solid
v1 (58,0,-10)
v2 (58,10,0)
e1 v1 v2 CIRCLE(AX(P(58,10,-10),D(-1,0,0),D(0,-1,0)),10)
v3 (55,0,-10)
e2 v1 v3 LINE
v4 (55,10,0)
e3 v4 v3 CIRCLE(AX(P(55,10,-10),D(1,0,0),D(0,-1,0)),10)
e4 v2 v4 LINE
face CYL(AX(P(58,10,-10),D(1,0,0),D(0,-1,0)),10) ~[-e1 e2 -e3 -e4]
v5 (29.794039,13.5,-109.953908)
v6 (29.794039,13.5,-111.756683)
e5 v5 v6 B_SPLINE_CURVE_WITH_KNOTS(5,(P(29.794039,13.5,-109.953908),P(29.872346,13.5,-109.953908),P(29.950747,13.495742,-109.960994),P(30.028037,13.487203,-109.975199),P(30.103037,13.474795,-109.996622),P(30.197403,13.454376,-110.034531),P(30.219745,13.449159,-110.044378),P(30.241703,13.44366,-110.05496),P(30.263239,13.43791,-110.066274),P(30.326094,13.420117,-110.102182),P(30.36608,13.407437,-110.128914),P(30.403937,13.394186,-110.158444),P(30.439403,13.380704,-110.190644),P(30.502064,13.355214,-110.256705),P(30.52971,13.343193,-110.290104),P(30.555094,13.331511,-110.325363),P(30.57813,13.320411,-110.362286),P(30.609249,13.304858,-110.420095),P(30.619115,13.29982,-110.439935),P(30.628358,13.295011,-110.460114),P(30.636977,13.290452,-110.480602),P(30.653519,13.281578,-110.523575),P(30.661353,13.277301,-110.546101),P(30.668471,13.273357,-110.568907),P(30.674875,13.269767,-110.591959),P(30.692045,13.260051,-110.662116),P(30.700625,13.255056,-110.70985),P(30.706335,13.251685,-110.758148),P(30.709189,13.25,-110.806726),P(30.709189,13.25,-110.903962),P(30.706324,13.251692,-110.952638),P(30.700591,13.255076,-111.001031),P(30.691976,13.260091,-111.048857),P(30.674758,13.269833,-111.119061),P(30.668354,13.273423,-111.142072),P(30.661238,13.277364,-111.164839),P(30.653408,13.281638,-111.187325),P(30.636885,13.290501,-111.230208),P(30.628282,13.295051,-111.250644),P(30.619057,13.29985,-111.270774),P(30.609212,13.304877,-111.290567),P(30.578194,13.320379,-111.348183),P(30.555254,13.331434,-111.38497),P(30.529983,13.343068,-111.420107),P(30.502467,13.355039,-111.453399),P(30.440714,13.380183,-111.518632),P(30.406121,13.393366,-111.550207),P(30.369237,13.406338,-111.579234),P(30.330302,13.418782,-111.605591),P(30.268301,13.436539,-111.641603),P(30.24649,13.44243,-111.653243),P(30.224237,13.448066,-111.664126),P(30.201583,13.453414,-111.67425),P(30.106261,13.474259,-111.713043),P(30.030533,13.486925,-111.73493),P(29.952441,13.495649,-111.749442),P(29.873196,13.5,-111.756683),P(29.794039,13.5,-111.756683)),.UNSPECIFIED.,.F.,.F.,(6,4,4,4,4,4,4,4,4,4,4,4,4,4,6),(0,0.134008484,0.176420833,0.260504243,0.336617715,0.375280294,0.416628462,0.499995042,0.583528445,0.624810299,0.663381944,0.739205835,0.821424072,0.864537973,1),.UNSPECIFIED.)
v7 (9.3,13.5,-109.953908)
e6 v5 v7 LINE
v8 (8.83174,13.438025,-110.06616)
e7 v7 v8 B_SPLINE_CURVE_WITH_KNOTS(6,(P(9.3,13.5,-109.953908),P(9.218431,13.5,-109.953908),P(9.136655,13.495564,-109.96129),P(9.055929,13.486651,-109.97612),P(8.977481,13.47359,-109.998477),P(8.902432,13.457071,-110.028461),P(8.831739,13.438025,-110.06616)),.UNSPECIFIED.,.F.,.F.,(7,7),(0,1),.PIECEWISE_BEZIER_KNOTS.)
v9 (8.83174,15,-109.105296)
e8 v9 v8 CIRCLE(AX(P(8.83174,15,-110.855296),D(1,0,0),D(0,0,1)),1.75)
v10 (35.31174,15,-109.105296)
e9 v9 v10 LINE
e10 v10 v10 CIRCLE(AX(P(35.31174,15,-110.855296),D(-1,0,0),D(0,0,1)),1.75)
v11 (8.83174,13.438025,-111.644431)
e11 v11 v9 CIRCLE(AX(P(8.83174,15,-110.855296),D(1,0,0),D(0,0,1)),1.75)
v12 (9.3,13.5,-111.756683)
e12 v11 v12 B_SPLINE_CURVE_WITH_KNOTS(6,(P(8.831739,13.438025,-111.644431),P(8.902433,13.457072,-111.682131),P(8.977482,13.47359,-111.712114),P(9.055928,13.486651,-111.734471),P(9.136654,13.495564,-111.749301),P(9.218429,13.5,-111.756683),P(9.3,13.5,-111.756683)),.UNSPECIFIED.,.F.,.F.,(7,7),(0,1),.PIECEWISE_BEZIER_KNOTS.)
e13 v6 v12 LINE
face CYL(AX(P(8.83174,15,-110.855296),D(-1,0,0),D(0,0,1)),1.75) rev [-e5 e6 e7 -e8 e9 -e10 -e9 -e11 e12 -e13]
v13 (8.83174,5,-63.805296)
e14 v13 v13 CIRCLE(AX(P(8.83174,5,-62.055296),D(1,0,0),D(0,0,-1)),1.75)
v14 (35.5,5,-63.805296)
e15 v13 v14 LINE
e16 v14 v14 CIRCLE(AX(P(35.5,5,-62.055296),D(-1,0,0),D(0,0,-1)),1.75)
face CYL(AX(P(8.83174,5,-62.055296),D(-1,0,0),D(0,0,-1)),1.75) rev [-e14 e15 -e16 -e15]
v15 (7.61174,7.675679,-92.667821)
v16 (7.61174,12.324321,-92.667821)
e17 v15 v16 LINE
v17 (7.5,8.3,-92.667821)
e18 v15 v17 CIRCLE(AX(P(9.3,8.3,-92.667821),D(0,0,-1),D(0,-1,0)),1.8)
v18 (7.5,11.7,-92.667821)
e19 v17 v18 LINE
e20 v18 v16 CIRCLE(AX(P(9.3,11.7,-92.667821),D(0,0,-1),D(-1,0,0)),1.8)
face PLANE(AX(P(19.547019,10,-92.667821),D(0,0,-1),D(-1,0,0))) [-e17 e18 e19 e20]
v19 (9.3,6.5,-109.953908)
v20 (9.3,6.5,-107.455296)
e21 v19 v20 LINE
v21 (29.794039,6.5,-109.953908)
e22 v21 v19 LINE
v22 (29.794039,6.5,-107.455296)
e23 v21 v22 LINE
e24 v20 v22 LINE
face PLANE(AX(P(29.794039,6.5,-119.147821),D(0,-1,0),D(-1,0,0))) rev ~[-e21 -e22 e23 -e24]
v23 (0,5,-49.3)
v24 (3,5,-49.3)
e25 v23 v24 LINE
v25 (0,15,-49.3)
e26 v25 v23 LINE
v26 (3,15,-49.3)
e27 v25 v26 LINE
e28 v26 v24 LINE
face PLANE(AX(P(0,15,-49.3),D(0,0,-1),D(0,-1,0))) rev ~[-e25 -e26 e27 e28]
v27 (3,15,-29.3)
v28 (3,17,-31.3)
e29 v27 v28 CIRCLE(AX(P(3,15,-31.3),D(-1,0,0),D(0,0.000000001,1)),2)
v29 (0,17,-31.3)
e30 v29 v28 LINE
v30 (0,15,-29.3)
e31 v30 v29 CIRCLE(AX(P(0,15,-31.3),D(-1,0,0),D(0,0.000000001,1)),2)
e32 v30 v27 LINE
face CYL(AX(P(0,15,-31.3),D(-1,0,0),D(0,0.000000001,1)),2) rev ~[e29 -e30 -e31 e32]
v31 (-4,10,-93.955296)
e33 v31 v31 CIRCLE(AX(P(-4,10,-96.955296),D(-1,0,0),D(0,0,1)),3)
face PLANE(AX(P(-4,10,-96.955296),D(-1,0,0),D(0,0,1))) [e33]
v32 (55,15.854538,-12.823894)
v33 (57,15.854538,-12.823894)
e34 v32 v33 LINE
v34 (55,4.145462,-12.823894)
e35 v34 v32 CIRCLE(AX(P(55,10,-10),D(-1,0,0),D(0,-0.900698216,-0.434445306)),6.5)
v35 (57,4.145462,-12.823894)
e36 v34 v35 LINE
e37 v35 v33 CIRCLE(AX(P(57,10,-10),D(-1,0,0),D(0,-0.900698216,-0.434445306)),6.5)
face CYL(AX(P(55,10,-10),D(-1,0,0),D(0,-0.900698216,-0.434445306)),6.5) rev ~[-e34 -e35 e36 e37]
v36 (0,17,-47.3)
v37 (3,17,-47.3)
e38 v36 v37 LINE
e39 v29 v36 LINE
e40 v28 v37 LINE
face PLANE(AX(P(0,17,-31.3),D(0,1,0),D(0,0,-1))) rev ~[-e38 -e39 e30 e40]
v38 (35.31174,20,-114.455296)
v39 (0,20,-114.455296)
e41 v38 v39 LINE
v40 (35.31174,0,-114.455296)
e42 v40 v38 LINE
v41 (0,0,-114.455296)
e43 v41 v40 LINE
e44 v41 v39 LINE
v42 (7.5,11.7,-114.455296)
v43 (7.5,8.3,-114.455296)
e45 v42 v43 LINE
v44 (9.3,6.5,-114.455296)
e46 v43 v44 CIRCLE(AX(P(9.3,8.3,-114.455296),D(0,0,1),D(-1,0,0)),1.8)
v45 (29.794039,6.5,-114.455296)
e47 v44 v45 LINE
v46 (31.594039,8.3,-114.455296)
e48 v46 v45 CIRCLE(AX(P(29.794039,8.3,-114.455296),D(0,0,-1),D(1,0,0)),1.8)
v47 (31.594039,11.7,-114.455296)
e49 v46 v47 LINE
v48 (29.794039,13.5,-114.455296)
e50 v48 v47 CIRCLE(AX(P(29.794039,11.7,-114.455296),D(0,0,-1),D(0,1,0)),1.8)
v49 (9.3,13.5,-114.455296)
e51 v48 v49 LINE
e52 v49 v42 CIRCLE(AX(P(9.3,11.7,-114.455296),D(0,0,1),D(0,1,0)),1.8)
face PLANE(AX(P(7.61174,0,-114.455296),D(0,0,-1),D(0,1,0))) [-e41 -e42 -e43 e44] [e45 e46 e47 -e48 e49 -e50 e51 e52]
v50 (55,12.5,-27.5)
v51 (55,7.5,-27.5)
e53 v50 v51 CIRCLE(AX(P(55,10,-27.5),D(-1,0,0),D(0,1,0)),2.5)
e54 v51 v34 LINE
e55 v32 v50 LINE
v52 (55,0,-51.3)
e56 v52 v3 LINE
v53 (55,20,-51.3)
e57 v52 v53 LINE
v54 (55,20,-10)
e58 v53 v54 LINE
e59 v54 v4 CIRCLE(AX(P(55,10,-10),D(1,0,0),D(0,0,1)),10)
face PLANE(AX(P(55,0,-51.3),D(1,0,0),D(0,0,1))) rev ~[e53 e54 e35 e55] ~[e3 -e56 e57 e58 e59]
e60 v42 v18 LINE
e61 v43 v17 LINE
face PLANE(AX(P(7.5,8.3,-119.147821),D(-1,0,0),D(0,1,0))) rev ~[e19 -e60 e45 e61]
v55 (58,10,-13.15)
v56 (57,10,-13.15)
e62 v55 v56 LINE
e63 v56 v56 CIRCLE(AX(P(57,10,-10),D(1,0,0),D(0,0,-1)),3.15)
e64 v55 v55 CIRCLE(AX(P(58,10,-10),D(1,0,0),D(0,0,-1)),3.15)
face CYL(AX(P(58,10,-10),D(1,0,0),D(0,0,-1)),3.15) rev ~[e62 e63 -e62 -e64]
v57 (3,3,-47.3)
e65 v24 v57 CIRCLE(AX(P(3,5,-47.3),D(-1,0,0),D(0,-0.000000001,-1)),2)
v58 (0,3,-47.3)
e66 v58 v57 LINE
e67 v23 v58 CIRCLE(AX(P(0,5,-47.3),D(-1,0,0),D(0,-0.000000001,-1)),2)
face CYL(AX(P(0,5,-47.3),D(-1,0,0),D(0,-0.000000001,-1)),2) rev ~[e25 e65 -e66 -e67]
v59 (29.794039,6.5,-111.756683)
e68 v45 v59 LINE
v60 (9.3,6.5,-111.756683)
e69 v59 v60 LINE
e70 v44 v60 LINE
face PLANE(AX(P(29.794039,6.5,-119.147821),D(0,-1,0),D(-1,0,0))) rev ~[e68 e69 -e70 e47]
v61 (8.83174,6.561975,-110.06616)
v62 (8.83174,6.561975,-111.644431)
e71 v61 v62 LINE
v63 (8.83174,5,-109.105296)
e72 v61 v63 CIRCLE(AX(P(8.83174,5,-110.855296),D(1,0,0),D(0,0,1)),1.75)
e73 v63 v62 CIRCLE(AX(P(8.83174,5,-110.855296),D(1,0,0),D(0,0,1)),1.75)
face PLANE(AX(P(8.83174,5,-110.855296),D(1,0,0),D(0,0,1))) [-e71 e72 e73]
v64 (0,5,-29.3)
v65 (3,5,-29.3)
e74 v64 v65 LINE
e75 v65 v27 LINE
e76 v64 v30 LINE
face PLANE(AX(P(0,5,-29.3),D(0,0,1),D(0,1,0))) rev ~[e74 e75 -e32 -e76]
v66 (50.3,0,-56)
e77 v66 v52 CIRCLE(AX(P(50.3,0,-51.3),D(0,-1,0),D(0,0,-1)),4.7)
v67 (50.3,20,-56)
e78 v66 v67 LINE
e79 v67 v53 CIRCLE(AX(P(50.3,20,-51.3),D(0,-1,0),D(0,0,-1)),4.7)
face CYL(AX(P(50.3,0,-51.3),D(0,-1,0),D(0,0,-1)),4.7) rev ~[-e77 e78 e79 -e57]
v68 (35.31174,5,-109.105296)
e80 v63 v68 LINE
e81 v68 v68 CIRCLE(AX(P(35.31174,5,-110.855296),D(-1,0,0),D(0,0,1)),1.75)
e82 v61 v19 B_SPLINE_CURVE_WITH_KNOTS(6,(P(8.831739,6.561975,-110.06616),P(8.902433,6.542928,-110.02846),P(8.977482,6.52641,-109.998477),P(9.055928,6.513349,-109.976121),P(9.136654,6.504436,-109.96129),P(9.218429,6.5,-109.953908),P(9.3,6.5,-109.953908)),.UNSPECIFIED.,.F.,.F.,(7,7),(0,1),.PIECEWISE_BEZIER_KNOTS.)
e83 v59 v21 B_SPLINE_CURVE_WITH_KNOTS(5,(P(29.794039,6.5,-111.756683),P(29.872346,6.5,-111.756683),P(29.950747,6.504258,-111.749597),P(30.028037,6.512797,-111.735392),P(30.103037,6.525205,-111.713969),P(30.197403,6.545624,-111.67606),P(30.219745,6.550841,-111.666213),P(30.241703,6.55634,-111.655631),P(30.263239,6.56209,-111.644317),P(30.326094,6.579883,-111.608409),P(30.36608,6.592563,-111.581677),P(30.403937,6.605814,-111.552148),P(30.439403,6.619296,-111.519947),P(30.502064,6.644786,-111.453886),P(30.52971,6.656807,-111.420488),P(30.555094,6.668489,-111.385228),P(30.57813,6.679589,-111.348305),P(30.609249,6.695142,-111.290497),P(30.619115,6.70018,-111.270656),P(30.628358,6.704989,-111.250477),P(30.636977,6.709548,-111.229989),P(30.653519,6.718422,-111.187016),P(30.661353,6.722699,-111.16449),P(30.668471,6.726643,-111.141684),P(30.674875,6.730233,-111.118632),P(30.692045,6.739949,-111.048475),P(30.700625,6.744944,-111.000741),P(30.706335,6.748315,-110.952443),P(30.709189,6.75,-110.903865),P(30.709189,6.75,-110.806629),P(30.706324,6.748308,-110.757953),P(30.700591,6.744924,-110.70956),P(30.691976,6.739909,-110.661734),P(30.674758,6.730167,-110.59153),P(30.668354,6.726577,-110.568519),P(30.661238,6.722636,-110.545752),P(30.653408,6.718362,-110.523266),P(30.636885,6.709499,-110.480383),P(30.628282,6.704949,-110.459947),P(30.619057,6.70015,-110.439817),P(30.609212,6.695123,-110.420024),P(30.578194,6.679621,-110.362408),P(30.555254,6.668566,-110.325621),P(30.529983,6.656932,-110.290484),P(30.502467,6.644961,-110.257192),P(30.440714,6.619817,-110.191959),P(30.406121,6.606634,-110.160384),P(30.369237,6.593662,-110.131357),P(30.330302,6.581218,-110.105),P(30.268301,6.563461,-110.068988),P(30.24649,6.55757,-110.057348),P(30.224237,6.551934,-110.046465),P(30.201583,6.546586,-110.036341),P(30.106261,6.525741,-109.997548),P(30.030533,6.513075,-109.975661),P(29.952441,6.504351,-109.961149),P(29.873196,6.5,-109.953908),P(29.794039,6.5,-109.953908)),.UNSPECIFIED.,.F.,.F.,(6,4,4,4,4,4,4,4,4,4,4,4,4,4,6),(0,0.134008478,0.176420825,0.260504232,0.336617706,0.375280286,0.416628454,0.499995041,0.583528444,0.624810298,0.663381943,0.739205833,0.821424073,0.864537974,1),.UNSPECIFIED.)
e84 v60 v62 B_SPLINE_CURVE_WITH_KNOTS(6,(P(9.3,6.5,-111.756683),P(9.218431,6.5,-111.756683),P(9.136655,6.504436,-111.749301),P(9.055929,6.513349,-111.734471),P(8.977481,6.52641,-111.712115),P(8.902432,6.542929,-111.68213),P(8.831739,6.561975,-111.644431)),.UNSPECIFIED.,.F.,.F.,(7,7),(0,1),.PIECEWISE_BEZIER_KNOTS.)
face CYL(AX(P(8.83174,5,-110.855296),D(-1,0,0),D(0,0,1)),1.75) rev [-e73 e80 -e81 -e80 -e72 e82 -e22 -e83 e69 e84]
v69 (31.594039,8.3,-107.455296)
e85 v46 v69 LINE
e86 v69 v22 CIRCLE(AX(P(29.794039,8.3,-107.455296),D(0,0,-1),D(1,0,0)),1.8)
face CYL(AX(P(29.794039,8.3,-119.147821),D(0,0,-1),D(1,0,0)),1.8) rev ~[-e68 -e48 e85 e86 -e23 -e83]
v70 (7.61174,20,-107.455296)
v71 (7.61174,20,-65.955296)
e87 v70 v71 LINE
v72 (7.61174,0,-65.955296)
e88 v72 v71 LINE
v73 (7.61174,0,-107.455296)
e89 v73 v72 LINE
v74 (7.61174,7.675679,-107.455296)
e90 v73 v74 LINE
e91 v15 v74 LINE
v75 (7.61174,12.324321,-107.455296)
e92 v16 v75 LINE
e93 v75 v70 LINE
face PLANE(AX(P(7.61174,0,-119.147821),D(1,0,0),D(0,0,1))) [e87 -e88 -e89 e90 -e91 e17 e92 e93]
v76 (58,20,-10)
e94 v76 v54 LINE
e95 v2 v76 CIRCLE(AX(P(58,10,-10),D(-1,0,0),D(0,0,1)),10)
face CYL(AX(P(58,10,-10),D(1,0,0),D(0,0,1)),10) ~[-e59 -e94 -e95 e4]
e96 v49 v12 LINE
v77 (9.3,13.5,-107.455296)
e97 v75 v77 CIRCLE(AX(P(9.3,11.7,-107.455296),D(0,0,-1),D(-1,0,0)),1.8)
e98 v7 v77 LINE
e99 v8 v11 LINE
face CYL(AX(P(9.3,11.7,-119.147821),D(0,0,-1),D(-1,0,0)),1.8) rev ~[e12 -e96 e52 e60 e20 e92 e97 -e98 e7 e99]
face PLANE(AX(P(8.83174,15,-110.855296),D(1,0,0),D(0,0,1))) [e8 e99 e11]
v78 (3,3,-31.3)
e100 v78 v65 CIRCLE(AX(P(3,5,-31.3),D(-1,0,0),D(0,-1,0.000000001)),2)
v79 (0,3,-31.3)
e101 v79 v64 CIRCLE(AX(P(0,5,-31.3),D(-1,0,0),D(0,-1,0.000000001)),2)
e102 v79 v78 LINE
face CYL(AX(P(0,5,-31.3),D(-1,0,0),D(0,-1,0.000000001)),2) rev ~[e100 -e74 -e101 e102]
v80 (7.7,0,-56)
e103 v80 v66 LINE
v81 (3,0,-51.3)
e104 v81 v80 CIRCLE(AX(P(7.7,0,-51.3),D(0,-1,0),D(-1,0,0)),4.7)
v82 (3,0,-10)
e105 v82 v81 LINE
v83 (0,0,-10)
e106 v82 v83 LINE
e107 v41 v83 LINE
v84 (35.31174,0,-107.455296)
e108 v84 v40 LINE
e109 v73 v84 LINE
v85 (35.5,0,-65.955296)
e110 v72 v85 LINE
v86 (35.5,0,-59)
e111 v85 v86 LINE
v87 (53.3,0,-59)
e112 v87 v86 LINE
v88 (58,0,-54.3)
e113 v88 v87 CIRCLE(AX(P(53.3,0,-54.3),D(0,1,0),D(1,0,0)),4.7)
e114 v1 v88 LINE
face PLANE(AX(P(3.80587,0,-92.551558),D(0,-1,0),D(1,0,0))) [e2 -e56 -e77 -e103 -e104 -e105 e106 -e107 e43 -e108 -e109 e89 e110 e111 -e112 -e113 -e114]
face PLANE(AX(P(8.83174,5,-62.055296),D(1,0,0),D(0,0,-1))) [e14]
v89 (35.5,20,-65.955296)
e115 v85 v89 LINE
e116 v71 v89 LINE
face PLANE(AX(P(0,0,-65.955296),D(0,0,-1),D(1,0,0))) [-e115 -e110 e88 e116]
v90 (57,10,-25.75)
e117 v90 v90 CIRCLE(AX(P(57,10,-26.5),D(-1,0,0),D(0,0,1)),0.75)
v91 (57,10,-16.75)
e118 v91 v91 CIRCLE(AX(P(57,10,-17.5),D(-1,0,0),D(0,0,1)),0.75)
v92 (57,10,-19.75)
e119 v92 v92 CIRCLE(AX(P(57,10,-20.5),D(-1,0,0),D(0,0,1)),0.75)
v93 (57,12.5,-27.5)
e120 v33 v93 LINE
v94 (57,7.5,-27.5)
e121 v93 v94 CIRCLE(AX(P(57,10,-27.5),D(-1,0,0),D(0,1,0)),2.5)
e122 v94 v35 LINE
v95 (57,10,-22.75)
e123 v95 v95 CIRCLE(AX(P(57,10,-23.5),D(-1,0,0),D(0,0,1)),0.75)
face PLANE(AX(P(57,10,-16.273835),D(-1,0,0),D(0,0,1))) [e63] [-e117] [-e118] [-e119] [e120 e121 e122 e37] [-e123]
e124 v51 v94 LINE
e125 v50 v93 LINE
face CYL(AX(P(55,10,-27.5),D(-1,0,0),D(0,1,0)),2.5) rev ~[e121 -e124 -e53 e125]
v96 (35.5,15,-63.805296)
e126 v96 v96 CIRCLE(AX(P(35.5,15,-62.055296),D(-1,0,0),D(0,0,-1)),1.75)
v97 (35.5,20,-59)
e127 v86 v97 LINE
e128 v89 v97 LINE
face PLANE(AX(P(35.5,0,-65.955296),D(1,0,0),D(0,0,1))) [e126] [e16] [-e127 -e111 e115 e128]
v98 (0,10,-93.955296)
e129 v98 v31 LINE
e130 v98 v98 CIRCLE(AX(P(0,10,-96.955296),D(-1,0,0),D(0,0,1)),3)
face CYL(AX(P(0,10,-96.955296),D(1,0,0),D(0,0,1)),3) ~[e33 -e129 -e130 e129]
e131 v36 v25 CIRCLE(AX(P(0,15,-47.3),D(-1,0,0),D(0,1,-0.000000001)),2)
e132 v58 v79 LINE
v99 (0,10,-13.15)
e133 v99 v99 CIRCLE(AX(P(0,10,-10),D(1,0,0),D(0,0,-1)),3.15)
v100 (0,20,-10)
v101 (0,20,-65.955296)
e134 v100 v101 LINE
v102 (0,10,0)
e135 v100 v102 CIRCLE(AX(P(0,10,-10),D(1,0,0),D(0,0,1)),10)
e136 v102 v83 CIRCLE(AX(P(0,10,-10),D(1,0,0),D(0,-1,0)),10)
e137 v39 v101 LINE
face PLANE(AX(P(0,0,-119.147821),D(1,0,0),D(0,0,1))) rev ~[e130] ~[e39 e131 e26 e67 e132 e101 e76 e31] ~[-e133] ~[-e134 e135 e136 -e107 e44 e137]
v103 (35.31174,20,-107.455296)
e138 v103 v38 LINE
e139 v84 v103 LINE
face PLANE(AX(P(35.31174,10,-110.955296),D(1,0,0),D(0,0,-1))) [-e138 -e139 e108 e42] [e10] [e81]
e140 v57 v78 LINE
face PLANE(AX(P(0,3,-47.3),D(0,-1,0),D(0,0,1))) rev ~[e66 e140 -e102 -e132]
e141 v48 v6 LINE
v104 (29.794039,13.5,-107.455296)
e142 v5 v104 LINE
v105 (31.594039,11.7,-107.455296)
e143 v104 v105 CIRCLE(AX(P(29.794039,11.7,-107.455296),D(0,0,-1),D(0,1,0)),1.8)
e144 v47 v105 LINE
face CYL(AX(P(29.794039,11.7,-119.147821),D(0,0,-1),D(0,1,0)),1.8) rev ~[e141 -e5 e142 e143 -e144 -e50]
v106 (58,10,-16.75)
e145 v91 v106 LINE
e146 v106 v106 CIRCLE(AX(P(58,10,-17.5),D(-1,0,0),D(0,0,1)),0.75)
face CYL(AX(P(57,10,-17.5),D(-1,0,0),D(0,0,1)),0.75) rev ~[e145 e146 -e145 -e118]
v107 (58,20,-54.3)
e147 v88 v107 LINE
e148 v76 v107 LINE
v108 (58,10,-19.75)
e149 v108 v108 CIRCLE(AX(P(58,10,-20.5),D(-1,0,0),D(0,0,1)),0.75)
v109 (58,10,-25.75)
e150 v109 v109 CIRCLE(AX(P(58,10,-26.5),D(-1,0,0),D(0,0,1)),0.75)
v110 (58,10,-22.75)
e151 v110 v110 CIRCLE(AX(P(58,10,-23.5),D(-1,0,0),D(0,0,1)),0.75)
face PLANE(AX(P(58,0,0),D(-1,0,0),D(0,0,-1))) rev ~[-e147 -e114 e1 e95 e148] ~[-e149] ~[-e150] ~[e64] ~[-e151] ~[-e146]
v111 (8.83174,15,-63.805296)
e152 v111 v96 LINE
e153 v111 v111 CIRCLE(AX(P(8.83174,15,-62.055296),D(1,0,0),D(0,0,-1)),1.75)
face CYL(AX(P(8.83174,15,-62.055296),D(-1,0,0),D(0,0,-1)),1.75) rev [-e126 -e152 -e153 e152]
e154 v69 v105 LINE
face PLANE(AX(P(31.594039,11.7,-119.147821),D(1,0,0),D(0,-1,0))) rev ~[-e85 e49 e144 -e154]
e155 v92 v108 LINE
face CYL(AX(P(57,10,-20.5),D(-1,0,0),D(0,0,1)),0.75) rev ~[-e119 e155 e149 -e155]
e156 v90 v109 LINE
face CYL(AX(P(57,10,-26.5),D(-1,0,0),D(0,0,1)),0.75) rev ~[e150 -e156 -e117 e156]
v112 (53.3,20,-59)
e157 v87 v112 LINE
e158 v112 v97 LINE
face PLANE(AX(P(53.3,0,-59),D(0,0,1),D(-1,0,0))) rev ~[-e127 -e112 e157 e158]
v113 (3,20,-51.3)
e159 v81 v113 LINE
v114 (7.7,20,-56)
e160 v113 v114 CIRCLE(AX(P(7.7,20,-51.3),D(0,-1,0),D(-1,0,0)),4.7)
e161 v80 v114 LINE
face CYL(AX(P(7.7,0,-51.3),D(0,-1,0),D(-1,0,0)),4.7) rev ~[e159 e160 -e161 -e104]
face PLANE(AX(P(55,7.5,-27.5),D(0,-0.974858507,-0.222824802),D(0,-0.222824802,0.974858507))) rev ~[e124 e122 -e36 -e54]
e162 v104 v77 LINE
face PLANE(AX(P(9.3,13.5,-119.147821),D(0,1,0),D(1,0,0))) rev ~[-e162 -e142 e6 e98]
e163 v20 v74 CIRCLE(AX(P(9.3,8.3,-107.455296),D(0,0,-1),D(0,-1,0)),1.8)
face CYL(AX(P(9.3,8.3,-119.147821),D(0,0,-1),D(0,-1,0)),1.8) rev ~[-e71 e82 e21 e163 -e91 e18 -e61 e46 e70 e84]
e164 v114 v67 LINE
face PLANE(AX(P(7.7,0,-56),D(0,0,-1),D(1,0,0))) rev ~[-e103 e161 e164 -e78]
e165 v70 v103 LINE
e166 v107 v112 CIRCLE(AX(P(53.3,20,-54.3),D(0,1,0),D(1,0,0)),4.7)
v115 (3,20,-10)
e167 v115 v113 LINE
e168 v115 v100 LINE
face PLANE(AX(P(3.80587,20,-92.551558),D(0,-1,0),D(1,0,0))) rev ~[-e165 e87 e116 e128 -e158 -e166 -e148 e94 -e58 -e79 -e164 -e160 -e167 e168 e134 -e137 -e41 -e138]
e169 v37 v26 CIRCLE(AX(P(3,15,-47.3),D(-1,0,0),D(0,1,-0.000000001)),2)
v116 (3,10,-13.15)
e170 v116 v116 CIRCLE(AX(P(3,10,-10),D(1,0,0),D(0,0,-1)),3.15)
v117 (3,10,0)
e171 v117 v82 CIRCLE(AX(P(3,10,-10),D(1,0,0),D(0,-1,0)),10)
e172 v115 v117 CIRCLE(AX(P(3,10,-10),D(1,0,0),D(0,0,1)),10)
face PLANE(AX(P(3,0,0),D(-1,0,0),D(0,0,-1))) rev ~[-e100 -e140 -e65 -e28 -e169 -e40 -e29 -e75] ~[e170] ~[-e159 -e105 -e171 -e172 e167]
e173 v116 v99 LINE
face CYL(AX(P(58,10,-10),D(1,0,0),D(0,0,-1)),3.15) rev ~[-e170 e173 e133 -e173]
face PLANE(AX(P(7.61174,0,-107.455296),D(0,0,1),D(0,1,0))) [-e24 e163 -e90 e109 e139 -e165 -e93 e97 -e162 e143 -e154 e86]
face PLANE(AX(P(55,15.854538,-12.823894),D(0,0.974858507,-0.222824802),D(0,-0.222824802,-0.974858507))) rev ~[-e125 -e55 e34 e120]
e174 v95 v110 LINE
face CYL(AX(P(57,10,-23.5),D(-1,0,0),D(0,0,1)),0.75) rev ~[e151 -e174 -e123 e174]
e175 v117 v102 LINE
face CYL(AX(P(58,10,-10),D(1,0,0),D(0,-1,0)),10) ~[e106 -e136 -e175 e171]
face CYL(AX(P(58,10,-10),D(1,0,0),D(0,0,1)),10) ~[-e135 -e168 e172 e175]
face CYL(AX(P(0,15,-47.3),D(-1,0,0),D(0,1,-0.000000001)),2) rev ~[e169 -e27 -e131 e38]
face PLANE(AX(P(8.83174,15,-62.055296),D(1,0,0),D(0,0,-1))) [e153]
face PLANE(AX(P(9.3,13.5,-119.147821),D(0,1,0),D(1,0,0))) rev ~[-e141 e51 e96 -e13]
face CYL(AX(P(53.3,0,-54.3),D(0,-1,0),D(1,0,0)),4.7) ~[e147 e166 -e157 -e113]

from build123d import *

# Parameters (mm, degrees)
AUFSATZ_LINEAR_AUSTRAGEN1_DEPTH      = 20
SCHNITT_LINEAR_AUSTRAGEN1_DEPTH      = 86.117565755
SKIZZE3_R                            = 3.15
SCHNITT_LINEAR_AUSTRAGEN2_DEPTH      = 86.117565755
SCHNITT_LINEAR_AUSTRAGEN3_DEPTH      = 2
SKIZZE5_R                            = 0.75
SCHNITT_LINEAR_AUSTRAGEN4_DEPTH      = 2
SKIZZE6_W                            = 35.5
SKIZZE6_H                            = 6.955295524
AUFSATZ_LINEAR_AUSTRAGEN2_DEPTH      = 20
SKIZZE7_W                            = 7.611739691
SKIZZE7_H                            = 53.192525908
AUFSATZ_LINEAR_AUSTRAGEN3_DEPTH      = 20
SKIZZE8_W                            = 7
SKIZZE8_H                            = 20
AUFSATZ_LINEAR_AUSTRAGEN4_DEPTH      = 27.7
SCHNITT_LINEAR_AUSTRAGEN5_DEPTH      = 26.48
SCHNITT_LINEAR_AUSTRAGEN6_DEPTH      = 6
SCHNITT_LINEAR_AUSTRAGEN6_DEPTH_BACK = 26.48
SKIZZE10_R                           = 1.75
SKIZZE11_R                           = 3
AUFSATZ_LINEAR_AUSTRAGEN5_DEPTH      = 4
SKIZZE12_W                           = 4.692525908
SKIZZE12_H                           = 20
SCHNITT_LINEAR_AUSTRAGEN7_DEPTH      = 131.901413869
SCHNITT_LINEAR_AUSTRAGEN8_DEPTH      = 6.73


with BuildPart() as part:
    # Skizze1 → Aufsatz-Linear austragen1 (new body)
    with BuildSketch(Plane(origin=(0, 0, 0), x_dir=(1, 0, 0), z_dir=(0, 1, 0))):
        with BuildLine():
            Line((0, 59), (0, 0))
            Line((0, 0), (3, 0))
            Line((3, 0), (3, 51.3))
            ThreePointArc((3, 51.3), (4.376598128, 54.623401872), (7.7, 56))
            Line((7.7, 56), (50.3, 56))
            ThreePointArc((50.3, 56), (53.623401872, 54.623401872), (55, 51.3))
            Line((55, 51.3), (55, 0))
            Line((55, 0), (58, 0))
            Line((58, 0), (58, 54.3))
            ThreePointArc((58, 54.3), (56.623401872, 57.623401872), (53.3, 59))
            Line((53.3, 59), (0, 59))
        make_face()
    extrude(amount=AUFSATZ_LINEAR_AUSTRAGEN1_DEPTH)

    # Skizze2 → Schnitt-Linear austragen1 (cut, through all)
    with BuildSketch(Plane(origin=(58, 0, 0), x_dir=(0, 0, -1), z_dir=(1, 0, 0))):
        with BuildLine():
            ThreePointArc((0, 10), (2.928932188, 17.071067812), (10, 20))
            Line((10, 20), (0, 20))
            Line((0, 20), (0, 10))
        make_face()
        with BuildLine():
            ThreePointArc((10, 0), (2.928932188, 2.928932188), (0, 10))
            Line((0, 10), (0, 0))
            Line((0, 0), (10, 0))
        make_face()
    extrude(amount=-SCHNITT_LINEAR_AUSTRAGEN1_DEPTH, mode=Mode.SUBTRACT)

    # Skizze3 → Schnitt-Linear austragen2 (cut, through all)
    with BuildSketch(Plane(origin=(58, 0, 0), x_dir=(0, 0, -1), z_dir=(1, 0, 0))):
        with Locations((10, 10)):
            Circle(SKIZZE3_R)
    extrude(amount=-SCHNITT_LINEAR_AUSTRAGEN2_DEPTH, mode=Mode.SUBTRACT)

    # Skizze4 → Schnitt-Linear austragen3 (cut)
    with BuildSketch(Plane.ZY.offset(-55)):
        with BuildLine():
            Line((-27.5, 7.5), (-12.823894492, 4.145461598))
            ThreePointArc((-12.823894492, 4.145461598), (-3.5, 10), (-12.823894492, 15.854538402))
            Line((-12.823894492, 15.854538402), (-27.5, 12.5))
            ThreePointArc((-27.5, 12.5), (-30, 10), (-27.5, 7.5))
        make_face()
    extrude(amount=-SCHNITT_LINEAR_AUSTRAGEN3_DEPTH, mode=Mode.SUBTRACT)

    # Skizze5 → Schnitt-Linear austragen4 (cut)
    with BuildSketch(Plane.ZY.offset(-57)):
        with Locations((-26.5, 10)):
            Circle(SKIZZE5_R)
        with Locations((-23.5, 10)):
            Circle(SKIZZE5_R)
        with Locations((-20.5, 10)):
            Circle(SKIZZE5_R)
        with Locations((-17.5, 10)):
            Circle(SKIZZE5_R)
    extrude(amount=-SCHNITT_LINEAR_AUSTRAGEN4_DEPTH, mode=Mode.SUBTRACT)

    # Skizze6 → Aufsatz-Linear austragen2 (add)
    with BuildSketch(Plane.XZ):
        with Locations((17.75, -62.477647762)):
            Rectangle(SKIZZE6_W, SKIZZE6_H)
    extrude(amount=-AUFSATZ_LINEAR_AUSTRAGEN2_DEPTH)

    # Skizze7 → Aufsatz-Linear austragen3 (add)
    with BuildSketch(Plane.XZ):
        with Locations((3.805869846, -92.551558478)):
            Rectangle(SKIZZE7_W, SKIZZE7_H)
    extrude(amount=-AUFSATZ_LINEAR_AUSTRAGEN3_DEPTH)

    # Skizze8 → Aufsatz-Linear austragen4 (add)
    with BuildSketch(Plane(origin=(7.611739691, 0, 0), x_dir=(0, 0, -1), z_dir=(1, 0, 0))):
        with Locations((110.955295524, 10)):
            Rectangle(SKIZZE8_W, SKIZZE8_H)
    extrude(amount=AUFSATZ_LINEAR_AUSTRAGEN4_DEPTH)

    # Skizze9 → Schnitt-Linear austragen5 (cut)
    with BuildSketch(Plane(origin=(0, 0, -119.147821432), x_dir=(-1, 0, 0), z_dir=(0, 0, -1))):
        with BuildLine():
            Line((-9.3, 13.5), (-29.794038703, 13.5))
            ThreePointArc((-29.794038703, 13.5), (-31.066830909, 12.972792206), (-31.594038703, 11.7))
            Line((-31.594038703, 11.7), (-31.594038703, 8.3))
            ThreePointArc((-31.594038703, 8.3), (-31.066830909, 7.027207794), (-29.794038703, 6.5))
            Line((-29.794038703, 6.5), (-9.3, 6.5))
            ThreePointArc((-9.3, 6.5), (-8.027207794, 7.027207794), (-7.5, 8.3))
            Line((-7.5, 8.3), (-7.5, 11.7))
            ThreePointArc((-7.5, 11.7), (-8.027207794, 12.972792206), (-9.3, 13.5))
        make_face()
    extrude(amount=-SCHNITT_LINEAR_AUSTRAGEN5_DEPTH, mode=Mode.SUBTRACT)

    # Skizze10 → Schnitt-Linear austragen6 (cut, two sides: drawn at the far end of the back side and taken through both)
    with BuildSketch(Plane(origin=(35.311739691, 0, 0), x_dir=(0, 0, -1), z_dir=(1, 0, 0)).offset(-SCHNITT_LINEAR_AUSTRAGEN6_DEPTH_BACK)):
        with Locations((62.055295524, 15)):
            Circle(SKIZZE10_R)
        with Locations((62.055295524, 5)):
            Circle(SKIZZE10_R)
        with Locations(Location((110.855295524, 5, 0), (0, 0, 180))):
            Circle(SKIZZE10_R)
        with Locations(Location((110.855295524, 15, 0), (0, 0, 180))):
            Circle(SKIZZE10_R)
    extrude(amount=SCHNITT_LINEAR_AUSTRAGEN6_DEPTH + SCHNITT_LINEAR_AUSTRAGEN6_DEPTH_BACK, mode=Mode.SUBTRACT)

    # Skizze11 → Aufsatz-Linear austragen5 (add)
    with BuildSketch(Plane.ZY):
        with Locations((-96.955295524, 10)):
            Circle(SKIZZE11_R)
    extrude(amount=AUFSATZ_LINEAR_AUSTRAGEN5_DEPTH)

    # Skizze12 → Schnitt-Linear austragen7 (cut, through all)
    with BuildSketch(Plane(origin=(7.611739691, 0, 0), x_dir=(0, 0, -1), z_dir=(1, 0, 0))):
        with Locations((116.801558478, 10)):
            Rectangle(SKIZZE12_W, SKIZZE12_H)
    extrude(amount=-SCHNITT_LINEAR_AUSTRAGEN7_DEPTH, mode=Mode.SUBTRACT)

    # Skizze13 → Schnitt-Linear austragen8 (cut)
    with BuildSketch(Plane.ZY):
        with BuildLine():
            Line((-47.3, 3), (-31.3, 3))
            ThreePointArc((-31.3, 3), (-29.885786438, 3.585786438), (-29.3, 5))
            Line((-29.3, 5), (-29.3, 15))
            ThreePointArc((-29.3, 15), (-29.885786438, 16.414213562), (-31.3, 17))
            Line((-31.3, 17), (-47.3, 17))
            ThreePointArc((-47.3, 17), (-48.714213562, 16.414213562), (-49.3, 15))
            Line((-49.3, 15), (-49.3, 5))
            ThreePointArc((-49.3, 5), (-48.714213562, 3.585786438), (-47.3, 3))
        make_face()
    extrude(amount=-SCHNITT_LINEAR_AUSTRAGEN8_DEPTH, mode=Mode.SUBTRACT)


solid = part.part
